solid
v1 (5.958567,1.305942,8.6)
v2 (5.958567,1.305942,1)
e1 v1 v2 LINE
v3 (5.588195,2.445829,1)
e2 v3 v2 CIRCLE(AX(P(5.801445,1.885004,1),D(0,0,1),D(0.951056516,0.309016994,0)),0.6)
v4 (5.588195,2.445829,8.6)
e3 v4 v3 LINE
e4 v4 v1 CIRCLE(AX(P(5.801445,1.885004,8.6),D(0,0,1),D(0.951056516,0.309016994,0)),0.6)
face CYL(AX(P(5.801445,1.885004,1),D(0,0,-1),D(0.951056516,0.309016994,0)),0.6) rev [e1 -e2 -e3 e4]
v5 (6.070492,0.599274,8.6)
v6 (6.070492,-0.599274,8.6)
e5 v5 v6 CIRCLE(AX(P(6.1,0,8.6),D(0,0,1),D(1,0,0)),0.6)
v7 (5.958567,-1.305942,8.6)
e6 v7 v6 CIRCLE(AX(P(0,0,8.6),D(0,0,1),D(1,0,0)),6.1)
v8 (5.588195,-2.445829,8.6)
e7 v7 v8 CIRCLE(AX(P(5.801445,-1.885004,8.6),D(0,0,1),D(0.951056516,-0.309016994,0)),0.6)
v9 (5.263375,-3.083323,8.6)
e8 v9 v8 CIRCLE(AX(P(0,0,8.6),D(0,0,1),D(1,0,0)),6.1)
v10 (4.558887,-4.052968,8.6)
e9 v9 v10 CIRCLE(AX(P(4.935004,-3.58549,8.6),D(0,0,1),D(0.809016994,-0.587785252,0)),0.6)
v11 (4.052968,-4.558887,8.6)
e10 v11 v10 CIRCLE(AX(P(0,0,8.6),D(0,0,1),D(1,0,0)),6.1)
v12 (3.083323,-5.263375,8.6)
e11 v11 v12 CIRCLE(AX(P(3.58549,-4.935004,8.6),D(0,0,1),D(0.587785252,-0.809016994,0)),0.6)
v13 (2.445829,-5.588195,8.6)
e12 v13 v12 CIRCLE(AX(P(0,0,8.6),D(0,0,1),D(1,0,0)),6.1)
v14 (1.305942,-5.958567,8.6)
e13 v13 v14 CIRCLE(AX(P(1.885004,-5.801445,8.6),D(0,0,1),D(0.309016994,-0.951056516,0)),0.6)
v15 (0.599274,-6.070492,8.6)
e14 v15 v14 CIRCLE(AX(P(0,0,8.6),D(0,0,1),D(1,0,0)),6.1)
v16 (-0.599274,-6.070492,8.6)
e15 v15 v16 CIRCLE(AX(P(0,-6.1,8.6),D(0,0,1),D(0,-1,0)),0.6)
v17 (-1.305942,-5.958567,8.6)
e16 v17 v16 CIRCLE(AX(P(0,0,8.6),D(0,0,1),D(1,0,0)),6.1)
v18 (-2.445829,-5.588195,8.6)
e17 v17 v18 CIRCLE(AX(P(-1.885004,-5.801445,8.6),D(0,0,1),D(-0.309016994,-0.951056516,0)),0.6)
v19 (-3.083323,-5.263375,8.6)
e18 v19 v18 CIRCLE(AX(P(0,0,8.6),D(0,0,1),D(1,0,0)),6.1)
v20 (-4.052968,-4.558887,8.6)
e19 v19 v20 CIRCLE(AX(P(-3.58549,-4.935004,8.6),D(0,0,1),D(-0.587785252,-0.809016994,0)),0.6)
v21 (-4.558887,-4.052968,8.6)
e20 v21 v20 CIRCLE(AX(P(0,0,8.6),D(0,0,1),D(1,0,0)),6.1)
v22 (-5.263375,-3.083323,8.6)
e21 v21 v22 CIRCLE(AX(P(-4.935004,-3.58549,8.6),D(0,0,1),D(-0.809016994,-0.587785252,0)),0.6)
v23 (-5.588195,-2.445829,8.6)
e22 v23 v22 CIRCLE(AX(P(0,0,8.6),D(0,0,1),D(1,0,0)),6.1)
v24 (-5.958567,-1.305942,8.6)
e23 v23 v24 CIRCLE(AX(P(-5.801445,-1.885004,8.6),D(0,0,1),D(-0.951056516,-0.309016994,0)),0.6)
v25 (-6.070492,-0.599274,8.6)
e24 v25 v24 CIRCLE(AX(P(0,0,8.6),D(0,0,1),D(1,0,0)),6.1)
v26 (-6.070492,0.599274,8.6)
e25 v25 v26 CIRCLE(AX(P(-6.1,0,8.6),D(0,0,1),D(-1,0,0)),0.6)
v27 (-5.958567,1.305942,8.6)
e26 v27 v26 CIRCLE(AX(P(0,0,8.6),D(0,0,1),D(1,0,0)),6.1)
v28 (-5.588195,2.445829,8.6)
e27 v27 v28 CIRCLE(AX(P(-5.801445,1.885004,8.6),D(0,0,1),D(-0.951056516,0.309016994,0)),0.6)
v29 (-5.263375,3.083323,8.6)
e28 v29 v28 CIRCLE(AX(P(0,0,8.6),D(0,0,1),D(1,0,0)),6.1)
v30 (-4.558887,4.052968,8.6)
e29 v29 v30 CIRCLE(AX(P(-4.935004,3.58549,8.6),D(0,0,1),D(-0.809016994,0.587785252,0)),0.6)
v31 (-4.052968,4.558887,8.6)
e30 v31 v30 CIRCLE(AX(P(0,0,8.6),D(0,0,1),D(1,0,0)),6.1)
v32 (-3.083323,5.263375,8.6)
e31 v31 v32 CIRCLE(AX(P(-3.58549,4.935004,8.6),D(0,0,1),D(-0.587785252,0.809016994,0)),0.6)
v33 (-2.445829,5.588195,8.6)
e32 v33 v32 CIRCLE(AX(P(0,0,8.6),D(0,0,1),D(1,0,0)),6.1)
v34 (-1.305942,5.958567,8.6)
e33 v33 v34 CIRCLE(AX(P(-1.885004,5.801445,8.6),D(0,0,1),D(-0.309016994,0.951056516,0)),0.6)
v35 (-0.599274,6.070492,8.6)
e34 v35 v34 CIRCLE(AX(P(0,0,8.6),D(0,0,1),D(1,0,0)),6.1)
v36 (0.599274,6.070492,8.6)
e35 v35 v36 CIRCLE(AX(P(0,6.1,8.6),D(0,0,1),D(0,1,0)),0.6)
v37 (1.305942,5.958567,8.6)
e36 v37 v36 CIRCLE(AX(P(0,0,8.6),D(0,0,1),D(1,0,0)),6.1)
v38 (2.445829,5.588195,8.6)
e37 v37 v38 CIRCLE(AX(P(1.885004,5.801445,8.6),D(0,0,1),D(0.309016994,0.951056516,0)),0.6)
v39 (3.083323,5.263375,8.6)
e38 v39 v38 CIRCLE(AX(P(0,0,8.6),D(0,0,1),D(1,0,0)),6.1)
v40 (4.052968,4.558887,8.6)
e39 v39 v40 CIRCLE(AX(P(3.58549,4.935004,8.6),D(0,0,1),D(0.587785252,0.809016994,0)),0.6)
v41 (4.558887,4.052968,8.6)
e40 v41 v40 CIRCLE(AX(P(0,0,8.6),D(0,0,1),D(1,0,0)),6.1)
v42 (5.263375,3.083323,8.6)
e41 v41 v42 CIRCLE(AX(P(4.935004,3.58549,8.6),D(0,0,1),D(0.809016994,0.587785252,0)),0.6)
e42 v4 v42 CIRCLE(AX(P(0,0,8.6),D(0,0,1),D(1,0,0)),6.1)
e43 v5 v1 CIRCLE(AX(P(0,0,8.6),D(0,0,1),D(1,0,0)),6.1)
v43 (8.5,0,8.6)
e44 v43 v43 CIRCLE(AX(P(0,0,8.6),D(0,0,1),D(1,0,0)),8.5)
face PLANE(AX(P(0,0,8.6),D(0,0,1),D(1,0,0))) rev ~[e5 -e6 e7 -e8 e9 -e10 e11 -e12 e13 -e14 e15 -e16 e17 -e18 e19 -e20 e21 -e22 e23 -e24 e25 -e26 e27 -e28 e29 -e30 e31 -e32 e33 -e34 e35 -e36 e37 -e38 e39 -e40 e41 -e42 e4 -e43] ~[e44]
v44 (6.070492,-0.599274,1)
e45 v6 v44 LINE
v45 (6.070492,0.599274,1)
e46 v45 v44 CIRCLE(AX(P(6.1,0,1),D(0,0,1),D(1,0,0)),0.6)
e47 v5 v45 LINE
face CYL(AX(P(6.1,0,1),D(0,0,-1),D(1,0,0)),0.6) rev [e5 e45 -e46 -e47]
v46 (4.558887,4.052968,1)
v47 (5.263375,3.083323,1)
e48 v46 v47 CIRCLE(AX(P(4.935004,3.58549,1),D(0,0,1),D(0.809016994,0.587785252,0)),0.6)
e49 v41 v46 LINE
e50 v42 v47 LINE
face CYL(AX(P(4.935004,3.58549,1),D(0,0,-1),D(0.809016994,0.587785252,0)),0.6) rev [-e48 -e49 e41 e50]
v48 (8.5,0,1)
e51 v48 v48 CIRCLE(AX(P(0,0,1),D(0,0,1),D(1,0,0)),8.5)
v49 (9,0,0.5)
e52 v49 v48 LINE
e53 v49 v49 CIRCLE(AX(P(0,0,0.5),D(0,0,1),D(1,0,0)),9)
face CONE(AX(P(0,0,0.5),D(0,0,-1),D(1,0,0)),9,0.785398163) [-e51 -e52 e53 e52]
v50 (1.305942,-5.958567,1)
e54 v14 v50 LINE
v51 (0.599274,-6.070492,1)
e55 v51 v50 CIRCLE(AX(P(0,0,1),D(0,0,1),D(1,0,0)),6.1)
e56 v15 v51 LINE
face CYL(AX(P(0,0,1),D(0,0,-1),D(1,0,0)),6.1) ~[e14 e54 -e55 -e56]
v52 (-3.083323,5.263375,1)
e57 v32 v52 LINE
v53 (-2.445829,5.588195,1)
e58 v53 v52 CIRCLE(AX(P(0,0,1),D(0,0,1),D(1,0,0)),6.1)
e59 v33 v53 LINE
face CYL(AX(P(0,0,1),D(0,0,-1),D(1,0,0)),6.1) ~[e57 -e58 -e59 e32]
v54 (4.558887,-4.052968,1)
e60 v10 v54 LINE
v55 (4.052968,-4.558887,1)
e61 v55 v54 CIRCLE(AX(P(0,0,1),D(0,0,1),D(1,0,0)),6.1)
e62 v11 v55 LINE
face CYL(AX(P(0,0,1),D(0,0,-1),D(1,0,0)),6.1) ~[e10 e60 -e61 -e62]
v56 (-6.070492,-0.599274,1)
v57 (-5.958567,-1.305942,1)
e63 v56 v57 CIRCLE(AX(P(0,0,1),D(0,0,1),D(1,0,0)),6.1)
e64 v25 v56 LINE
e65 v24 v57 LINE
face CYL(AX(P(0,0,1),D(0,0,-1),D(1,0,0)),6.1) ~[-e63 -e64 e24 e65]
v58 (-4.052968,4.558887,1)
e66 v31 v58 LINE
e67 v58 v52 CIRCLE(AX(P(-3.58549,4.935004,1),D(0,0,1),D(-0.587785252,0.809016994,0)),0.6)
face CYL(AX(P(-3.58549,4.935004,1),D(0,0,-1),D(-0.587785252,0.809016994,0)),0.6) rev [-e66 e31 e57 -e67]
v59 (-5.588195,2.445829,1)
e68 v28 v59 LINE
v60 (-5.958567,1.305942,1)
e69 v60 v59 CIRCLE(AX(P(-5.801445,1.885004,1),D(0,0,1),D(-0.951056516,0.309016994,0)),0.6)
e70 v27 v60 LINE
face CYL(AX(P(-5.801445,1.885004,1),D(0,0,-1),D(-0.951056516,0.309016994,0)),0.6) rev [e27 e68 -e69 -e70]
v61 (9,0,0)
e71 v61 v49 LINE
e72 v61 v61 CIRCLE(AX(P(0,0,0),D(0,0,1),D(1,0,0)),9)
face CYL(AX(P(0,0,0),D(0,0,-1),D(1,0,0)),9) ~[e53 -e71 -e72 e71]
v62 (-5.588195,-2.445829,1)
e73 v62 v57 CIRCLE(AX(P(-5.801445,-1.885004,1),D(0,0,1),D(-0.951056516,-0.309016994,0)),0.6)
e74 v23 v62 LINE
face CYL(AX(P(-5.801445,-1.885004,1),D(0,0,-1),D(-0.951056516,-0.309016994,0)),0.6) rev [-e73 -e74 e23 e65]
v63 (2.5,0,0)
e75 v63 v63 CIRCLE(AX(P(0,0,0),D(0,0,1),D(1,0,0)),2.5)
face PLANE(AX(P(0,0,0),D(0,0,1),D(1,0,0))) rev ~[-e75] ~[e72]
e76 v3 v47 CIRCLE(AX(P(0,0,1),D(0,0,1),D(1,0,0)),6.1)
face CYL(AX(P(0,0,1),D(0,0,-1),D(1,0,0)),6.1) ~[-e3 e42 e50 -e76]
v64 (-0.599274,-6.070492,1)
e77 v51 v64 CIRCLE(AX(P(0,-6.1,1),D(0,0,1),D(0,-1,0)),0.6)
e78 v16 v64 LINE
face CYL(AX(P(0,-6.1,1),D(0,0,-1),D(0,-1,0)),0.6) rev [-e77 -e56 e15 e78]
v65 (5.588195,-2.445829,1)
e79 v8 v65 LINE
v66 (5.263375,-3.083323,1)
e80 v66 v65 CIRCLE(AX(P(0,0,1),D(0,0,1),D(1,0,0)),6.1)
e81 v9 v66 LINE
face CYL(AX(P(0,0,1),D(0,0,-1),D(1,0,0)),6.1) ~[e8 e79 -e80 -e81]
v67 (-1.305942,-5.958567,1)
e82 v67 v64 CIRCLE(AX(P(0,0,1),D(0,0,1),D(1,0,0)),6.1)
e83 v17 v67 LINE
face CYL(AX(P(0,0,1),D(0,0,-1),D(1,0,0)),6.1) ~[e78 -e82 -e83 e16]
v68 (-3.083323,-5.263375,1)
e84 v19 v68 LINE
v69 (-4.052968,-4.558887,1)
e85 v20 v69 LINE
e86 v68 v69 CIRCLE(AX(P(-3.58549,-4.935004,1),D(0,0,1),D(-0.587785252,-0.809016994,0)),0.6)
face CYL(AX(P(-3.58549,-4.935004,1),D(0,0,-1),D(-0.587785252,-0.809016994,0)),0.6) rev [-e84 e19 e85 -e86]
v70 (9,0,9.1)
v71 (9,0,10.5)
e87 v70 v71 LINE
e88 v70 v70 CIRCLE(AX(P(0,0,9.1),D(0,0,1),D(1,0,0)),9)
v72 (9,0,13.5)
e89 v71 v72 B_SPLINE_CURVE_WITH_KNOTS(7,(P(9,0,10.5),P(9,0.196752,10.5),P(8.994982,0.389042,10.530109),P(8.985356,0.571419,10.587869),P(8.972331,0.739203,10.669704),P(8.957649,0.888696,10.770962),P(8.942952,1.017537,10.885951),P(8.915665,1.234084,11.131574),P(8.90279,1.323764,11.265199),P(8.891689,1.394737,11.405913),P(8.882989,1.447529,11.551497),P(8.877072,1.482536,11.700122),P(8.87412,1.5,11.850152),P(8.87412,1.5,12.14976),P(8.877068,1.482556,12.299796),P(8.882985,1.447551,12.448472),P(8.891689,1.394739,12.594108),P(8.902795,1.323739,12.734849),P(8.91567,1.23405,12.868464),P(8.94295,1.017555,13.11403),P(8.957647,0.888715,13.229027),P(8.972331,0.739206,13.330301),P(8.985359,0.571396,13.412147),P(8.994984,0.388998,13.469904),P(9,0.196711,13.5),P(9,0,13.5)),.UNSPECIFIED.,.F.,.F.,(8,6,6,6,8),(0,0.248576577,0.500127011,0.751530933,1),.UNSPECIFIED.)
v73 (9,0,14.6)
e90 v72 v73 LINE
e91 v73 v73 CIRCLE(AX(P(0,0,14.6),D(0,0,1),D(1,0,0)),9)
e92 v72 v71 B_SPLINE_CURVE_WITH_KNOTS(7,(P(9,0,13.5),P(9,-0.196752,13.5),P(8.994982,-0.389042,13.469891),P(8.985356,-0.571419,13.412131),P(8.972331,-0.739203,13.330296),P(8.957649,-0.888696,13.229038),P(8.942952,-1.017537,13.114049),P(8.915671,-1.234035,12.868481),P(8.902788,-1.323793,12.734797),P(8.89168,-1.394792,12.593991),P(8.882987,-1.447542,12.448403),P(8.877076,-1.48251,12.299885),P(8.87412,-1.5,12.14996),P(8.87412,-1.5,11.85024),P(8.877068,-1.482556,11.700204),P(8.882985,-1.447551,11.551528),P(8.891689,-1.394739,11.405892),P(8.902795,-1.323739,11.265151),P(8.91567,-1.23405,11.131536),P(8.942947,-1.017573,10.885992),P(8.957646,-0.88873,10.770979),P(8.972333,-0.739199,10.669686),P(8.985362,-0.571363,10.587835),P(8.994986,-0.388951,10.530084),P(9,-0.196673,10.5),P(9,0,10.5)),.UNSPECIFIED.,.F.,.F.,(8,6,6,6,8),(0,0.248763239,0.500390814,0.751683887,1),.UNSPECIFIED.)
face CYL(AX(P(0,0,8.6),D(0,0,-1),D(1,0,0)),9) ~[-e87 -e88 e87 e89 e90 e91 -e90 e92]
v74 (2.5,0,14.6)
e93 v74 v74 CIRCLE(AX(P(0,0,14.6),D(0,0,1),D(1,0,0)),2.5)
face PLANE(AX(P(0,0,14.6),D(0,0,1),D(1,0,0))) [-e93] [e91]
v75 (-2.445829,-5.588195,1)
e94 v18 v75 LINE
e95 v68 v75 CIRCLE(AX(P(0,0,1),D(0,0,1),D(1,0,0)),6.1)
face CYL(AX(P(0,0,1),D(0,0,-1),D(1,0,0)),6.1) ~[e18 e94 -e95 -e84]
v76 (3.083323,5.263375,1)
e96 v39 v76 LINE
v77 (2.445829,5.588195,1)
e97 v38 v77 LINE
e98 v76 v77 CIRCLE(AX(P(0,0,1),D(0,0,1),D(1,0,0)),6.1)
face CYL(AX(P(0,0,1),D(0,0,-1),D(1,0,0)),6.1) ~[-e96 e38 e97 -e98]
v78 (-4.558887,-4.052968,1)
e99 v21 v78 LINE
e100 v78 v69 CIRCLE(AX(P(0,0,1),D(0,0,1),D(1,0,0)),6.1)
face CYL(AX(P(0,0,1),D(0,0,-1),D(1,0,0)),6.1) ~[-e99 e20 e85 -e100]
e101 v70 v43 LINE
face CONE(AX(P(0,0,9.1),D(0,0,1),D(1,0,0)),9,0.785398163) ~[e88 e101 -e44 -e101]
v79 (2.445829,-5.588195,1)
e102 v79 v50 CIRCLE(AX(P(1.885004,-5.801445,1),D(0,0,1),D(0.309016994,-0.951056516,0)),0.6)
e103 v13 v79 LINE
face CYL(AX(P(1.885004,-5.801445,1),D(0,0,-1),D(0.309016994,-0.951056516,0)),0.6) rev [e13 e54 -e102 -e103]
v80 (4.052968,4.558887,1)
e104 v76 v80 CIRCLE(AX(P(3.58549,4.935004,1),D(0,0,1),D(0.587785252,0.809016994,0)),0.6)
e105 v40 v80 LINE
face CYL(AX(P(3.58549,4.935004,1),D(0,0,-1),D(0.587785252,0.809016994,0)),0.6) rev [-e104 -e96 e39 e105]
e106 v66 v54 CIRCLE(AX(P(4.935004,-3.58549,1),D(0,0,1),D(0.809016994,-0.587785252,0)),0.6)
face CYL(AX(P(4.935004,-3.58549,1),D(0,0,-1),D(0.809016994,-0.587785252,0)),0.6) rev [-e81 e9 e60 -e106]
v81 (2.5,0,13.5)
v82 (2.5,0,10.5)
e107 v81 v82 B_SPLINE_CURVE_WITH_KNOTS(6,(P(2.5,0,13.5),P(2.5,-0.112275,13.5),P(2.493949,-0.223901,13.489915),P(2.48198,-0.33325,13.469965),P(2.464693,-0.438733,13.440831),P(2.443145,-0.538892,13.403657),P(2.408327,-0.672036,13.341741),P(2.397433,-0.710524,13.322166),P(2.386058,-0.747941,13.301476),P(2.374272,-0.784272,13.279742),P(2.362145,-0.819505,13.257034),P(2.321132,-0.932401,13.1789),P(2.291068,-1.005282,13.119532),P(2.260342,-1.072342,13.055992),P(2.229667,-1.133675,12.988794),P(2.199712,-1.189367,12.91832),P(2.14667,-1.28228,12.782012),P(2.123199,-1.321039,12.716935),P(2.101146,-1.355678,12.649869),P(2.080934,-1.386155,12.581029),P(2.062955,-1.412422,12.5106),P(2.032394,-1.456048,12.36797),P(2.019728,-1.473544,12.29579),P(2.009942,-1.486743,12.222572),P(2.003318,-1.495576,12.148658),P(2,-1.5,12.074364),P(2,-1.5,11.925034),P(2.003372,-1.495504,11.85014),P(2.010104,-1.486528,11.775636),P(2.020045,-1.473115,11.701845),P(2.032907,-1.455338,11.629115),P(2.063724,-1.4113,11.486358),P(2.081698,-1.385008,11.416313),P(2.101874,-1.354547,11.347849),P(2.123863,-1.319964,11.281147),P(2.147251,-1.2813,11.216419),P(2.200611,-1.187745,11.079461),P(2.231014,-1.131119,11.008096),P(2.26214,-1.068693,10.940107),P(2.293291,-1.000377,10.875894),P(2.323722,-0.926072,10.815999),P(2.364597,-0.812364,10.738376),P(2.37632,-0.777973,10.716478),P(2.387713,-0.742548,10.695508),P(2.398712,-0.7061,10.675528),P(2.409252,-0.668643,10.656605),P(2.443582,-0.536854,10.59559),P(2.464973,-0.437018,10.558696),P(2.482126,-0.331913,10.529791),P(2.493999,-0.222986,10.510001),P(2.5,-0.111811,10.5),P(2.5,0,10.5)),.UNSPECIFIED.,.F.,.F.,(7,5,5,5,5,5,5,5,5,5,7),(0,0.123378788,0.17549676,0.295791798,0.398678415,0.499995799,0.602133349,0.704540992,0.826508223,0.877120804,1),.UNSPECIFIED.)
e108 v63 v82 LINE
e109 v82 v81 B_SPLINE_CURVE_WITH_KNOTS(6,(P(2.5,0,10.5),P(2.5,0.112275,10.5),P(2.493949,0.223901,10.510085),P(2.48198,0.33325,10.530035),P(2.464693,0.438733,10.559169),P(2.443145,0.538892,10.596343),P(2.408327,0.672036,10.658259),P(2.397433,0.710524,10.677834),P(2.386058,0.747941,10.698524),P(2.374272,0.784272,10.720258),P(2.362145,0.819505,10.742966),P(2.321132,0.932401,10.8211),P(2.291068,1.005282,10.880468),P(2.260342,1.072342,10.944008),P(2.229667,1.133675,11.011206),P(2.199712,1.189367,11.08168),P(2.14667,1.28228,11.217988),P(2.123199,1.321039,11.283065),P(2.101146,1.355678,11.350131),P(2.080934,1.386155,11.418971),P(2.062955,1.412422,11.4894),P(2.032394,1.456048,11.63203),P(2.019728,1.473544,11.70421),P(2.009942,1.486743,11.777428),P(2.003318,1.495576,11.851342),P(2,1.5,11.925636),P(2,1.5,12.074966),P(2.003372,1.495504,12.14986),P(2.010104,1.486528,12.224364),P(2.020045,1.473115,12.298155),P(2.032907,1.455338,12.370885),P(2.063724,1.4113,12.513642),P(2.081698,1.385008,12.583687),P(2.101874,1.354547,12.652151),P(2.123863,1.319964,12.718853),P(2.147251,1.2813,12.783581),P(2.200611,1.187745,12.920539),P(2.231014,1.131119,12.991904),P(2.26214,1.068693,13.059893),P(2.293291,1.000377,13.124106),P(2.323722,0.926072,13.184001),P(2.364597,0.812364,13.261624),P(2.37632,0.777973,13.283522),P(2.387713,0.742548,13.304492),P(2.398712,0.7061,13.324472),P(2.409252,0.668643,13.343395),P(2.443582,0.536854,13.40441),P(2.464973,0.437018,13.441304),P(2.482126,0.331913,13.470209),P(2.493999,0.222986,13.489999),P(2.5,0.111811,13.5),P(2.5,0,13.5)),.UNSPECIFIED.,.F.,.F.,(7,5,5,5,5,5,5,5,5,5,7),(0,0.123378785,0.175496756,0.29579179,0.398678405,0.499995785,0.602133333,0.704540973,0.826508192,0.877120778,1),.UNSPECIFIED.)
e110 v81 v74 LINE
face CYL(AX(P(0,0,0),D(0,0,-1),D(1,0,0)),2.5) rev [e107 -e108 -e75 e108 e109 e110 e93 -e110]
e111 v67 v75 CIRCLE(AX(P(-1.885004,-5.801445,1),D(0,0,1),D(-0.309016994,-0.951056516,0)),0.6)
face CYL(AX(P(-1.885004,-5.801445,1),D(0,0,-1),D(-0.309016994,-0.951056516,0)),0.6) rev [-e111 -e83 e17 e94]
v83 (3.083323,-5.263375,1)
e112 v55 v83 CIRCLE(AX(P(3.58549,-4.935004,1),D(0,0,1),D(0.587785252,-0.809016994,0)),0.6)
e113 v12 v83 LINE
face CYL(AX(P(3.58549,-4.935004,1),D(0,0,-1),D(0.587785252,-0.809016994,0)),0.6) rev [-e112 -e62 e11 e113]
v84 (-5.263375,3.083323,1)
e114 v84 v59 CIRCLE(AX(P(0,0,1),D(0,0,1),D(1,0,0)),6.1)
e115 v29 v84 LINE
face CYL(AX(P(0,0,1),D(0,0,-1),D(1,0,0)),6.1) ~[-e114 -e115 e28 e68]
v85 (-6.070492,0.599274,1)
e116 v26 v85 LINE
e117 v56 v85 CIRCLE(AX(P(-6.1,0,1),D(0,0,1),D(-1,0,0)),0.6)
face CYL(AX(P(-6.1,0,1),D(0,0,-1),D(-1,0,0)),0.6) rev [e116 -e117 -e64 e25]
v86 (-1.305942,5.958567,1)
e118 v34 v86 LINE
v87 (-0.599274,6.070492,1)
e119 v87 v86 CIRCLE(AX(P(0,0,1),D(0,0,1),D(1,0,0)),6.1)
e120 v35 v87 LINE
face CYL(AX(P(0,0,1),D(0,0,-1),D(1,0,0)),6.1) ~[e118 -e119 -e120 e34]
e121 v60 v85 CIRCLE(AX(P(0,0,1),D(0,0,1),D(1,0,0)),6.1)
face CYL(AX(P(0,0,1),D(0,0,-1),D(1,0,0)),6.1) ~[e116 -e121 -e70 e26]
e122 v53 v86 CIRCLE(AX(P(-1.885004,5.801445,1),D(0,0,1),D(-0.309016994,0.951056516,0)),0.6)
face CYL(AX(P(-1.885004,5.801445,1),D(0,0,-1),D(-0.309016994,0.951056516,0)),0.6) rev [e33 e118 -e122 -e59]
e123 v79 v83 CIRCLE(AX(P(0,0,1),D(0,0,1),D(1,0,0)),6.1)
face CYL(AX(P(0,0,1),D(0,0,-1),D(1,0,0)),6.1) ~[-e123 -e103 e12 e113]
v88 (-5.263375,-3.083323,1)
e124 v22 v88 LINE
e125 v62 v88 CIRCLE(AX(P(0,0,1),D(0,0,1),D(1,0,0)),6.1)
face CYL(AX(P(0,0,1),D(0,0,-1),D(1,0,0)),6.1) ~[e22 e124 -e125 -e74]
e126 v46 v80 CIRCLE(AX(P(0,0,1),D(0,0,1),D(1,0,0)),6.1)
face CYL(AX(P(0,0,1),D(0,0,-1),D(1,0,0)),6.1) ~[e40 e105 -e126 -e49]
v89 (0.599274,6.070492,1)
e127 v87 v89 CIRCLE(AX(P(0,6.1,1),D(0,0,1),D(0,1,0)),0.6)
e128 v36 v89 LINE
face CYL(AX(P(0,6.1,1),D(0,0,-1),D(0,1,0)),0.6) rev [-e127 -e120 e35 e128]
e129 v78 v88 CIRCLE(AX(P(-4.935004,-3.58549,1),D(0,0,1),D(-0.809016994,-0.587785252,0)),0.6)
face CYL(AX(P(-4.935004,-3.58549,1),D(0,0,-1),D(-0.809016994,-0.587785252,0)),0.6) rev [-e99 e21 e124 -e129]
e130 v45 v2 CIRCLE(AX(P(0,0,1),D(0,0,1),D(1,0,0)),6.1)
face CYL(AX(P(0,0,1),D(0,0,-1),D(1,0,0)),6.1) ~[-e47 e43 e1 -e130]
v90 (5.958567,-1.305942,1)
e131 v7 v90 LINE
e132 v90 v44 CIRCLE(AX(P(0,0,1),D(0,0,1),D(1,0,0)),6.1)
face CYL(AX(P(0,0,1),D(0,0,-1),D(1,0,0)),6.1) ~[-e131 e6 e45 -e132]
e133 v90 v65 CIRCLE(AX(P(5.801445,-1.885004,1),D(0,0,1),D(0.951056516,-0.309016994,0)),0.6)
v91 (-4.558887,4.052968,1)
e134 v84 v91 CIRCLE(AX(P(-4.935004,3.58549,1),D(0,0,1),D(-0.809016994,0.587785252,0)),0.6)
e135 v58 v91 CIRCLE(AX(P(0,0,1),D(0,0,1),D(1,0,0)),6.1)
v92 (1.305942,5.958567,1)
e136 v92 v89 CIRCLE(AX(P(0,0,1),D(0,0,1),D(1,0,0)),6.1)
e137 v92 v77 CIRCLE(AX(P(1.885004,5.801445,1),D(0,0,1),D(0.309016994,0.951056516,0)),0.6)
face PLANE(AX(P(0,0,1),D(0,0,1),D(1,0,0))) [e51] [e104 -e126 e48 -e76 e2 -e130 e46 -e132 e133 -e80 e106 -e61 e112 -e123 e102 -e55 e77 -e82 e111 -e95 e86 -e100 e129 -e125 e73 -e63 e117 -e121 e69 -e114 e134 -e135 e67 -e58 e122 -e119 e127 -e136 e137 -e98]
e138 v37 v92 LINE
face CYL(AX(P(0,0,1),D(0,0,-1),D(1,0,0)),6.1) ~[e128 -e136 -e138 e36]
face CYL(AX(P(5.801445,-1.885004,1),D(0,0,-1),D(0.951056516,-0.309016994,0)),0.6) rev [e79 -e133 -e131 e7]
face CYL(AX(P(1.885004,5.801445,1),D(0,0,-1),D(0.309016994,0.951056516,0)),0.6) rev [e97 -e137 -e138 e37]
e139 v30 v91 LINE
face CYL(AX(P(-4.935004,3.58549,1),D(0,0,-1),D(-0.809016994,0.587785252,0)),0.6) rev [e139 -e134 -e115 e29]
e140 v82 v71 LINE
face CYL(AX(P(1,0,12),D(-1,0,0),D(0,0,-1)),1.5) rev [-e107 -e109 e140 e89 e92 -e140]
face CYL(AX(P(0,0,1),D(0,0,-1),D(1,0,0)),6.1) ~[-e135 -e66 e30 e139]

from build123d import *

# Parameters (mm, degrees)
CYLINDER012012_R                          = 1.5
CYLINDER012012_DEPTH                      = 9
CYLINDER012008_R                          = 2.5
CYLINDER012008_DEPTH                      = 14.6
CYLINDER012007_R                          = 9
CYLINDER012007_DEPTH                      = 1
CHAMFER_SIZE                              = 0.5
CYLINDER012009_R                          = 9
CYLINDER012009_DEPTH                      = 6
CHAMFER001_SIZE                           = 0.5
CYLINDER012006_R                          = 0.6
CYLINDER012006_DEPTH                      = 7.6
ARRAY003008004001001001002001001004_COUNT = 20
CYLINDER012011_R                          = 6.1
CYLINDER012011_DEPTH                      = 7.6


with BuildPart() as cilindro005:
    # Cylinder012012 → Cylinder012012 (new body)
    with BuildSketch(Plane(origin=(1, 0, 12), x_dir=(0, 0, -1), z_dir=(1, 0, 0))):
        Circle(CYLINDER012012_R)
    extrude(amount=CYLINDER012012_DEPTH)


with BuildPart() as cilindro004:
    # Cylinder012008 → Cylinder012008 (new body)
    with BuildSketch(Plane.XY):
        Circle(CYLINDER012008_R)
    extrude(amount=CYLINDER012008_DEPTH)


with BuildPart() as chamfer_body:
    # Cylinder012007 → Cylinder012007 (new body)
    with BuildSketch(Plane.XY):
        Circle(CYLINDER012007_R)
    extrude(amount=CYLINDER012007_DEPTH)

    # Chamfer
    chamfer_edges = [chamfer_body.edges().sort_by_distance(p)[0] for p in [
        (-9, 0, 1),
    ]]
    chamfer(chamfer_edges, length=CHAMFER_SIZE)


with BuildPart() as chamfer001:
    # Cylinder012009 → Cylinder012009 (new body)
    with BuildSketch(Plane.XY.offset(8.6)):
        Circle(CYLINDER012009_R)
    extrude(amount=CYLINDER012009_DEPTH)

    # Chamfer001
    chamfer001_edges = [chamfer001.edges().sort_by_distance(p)[0] for p in [
        (-9, 0, 8.6),
    ]]
    chamfer(chamfer001_edges, length=CHAMFER001_SIZE)


with BuildPart() as array003008004001001001002001001004:
    # Cylinder012006 → Cylinder012006 (new body)
    with BuildSketch(Plane(origin=(6.1, 0, 0), x_dir=(1, 0, 0), z_dir=(0, 0, 1))):
        Circle(CYLINDER012006_R)
    extrude(amount=CYLINDER012006_DEPTH)

    # Array003008004001001001002001001004: Array003008004001001001002001001004 ×20 about axis
    array003008004001001001002001001004_axis = Axis((0, 0, 0), (0, 0, 1))


with BuildPart() as array003008004001001001002001001004_1:
    add(array003008004001001001002001001004.part)
    for i in range(1, ARRAY003008004001001001002001001004_COUNT):
        add(array003008004001001001002001001004.part.rotate(array003008004001001001002001001004_axis, i * 360 / ARRAY003008004001001001002001001004_COUNT))


with BuildPart() as cut002002:
    # Cylinder012011 → Cylinder012011 (new body)
    with BuildSketch(Plane.XY):
        Circle(CYLINDER012011_R)
    extrude(amount=CYLINDER012011_DEPTH)

    # Cut002004: cut Array003008004001001001002001001004
    add(array003008004001001001002001001004_1.part, mode=Mode.SUBTRACT)


with BuildPart() as cut002002_1:
    # Cut002004 placement: moved
    add(cut002002.part.moved(Location((0, 0, 1))))

    # Fusion007: union Chamfer body, Chamfer001
    add(chamfer_body.part)
    add(chamfer001.part)

    # Cut002003: cut Cilindro004
    add(cilindro004.part, mode=Mode.SUBTRACT)

    # Cut002002: cut Cilindro005
    add(cilindro005.part, mode=Mode.SUBTRACT)


solid = cut002002_1.part
